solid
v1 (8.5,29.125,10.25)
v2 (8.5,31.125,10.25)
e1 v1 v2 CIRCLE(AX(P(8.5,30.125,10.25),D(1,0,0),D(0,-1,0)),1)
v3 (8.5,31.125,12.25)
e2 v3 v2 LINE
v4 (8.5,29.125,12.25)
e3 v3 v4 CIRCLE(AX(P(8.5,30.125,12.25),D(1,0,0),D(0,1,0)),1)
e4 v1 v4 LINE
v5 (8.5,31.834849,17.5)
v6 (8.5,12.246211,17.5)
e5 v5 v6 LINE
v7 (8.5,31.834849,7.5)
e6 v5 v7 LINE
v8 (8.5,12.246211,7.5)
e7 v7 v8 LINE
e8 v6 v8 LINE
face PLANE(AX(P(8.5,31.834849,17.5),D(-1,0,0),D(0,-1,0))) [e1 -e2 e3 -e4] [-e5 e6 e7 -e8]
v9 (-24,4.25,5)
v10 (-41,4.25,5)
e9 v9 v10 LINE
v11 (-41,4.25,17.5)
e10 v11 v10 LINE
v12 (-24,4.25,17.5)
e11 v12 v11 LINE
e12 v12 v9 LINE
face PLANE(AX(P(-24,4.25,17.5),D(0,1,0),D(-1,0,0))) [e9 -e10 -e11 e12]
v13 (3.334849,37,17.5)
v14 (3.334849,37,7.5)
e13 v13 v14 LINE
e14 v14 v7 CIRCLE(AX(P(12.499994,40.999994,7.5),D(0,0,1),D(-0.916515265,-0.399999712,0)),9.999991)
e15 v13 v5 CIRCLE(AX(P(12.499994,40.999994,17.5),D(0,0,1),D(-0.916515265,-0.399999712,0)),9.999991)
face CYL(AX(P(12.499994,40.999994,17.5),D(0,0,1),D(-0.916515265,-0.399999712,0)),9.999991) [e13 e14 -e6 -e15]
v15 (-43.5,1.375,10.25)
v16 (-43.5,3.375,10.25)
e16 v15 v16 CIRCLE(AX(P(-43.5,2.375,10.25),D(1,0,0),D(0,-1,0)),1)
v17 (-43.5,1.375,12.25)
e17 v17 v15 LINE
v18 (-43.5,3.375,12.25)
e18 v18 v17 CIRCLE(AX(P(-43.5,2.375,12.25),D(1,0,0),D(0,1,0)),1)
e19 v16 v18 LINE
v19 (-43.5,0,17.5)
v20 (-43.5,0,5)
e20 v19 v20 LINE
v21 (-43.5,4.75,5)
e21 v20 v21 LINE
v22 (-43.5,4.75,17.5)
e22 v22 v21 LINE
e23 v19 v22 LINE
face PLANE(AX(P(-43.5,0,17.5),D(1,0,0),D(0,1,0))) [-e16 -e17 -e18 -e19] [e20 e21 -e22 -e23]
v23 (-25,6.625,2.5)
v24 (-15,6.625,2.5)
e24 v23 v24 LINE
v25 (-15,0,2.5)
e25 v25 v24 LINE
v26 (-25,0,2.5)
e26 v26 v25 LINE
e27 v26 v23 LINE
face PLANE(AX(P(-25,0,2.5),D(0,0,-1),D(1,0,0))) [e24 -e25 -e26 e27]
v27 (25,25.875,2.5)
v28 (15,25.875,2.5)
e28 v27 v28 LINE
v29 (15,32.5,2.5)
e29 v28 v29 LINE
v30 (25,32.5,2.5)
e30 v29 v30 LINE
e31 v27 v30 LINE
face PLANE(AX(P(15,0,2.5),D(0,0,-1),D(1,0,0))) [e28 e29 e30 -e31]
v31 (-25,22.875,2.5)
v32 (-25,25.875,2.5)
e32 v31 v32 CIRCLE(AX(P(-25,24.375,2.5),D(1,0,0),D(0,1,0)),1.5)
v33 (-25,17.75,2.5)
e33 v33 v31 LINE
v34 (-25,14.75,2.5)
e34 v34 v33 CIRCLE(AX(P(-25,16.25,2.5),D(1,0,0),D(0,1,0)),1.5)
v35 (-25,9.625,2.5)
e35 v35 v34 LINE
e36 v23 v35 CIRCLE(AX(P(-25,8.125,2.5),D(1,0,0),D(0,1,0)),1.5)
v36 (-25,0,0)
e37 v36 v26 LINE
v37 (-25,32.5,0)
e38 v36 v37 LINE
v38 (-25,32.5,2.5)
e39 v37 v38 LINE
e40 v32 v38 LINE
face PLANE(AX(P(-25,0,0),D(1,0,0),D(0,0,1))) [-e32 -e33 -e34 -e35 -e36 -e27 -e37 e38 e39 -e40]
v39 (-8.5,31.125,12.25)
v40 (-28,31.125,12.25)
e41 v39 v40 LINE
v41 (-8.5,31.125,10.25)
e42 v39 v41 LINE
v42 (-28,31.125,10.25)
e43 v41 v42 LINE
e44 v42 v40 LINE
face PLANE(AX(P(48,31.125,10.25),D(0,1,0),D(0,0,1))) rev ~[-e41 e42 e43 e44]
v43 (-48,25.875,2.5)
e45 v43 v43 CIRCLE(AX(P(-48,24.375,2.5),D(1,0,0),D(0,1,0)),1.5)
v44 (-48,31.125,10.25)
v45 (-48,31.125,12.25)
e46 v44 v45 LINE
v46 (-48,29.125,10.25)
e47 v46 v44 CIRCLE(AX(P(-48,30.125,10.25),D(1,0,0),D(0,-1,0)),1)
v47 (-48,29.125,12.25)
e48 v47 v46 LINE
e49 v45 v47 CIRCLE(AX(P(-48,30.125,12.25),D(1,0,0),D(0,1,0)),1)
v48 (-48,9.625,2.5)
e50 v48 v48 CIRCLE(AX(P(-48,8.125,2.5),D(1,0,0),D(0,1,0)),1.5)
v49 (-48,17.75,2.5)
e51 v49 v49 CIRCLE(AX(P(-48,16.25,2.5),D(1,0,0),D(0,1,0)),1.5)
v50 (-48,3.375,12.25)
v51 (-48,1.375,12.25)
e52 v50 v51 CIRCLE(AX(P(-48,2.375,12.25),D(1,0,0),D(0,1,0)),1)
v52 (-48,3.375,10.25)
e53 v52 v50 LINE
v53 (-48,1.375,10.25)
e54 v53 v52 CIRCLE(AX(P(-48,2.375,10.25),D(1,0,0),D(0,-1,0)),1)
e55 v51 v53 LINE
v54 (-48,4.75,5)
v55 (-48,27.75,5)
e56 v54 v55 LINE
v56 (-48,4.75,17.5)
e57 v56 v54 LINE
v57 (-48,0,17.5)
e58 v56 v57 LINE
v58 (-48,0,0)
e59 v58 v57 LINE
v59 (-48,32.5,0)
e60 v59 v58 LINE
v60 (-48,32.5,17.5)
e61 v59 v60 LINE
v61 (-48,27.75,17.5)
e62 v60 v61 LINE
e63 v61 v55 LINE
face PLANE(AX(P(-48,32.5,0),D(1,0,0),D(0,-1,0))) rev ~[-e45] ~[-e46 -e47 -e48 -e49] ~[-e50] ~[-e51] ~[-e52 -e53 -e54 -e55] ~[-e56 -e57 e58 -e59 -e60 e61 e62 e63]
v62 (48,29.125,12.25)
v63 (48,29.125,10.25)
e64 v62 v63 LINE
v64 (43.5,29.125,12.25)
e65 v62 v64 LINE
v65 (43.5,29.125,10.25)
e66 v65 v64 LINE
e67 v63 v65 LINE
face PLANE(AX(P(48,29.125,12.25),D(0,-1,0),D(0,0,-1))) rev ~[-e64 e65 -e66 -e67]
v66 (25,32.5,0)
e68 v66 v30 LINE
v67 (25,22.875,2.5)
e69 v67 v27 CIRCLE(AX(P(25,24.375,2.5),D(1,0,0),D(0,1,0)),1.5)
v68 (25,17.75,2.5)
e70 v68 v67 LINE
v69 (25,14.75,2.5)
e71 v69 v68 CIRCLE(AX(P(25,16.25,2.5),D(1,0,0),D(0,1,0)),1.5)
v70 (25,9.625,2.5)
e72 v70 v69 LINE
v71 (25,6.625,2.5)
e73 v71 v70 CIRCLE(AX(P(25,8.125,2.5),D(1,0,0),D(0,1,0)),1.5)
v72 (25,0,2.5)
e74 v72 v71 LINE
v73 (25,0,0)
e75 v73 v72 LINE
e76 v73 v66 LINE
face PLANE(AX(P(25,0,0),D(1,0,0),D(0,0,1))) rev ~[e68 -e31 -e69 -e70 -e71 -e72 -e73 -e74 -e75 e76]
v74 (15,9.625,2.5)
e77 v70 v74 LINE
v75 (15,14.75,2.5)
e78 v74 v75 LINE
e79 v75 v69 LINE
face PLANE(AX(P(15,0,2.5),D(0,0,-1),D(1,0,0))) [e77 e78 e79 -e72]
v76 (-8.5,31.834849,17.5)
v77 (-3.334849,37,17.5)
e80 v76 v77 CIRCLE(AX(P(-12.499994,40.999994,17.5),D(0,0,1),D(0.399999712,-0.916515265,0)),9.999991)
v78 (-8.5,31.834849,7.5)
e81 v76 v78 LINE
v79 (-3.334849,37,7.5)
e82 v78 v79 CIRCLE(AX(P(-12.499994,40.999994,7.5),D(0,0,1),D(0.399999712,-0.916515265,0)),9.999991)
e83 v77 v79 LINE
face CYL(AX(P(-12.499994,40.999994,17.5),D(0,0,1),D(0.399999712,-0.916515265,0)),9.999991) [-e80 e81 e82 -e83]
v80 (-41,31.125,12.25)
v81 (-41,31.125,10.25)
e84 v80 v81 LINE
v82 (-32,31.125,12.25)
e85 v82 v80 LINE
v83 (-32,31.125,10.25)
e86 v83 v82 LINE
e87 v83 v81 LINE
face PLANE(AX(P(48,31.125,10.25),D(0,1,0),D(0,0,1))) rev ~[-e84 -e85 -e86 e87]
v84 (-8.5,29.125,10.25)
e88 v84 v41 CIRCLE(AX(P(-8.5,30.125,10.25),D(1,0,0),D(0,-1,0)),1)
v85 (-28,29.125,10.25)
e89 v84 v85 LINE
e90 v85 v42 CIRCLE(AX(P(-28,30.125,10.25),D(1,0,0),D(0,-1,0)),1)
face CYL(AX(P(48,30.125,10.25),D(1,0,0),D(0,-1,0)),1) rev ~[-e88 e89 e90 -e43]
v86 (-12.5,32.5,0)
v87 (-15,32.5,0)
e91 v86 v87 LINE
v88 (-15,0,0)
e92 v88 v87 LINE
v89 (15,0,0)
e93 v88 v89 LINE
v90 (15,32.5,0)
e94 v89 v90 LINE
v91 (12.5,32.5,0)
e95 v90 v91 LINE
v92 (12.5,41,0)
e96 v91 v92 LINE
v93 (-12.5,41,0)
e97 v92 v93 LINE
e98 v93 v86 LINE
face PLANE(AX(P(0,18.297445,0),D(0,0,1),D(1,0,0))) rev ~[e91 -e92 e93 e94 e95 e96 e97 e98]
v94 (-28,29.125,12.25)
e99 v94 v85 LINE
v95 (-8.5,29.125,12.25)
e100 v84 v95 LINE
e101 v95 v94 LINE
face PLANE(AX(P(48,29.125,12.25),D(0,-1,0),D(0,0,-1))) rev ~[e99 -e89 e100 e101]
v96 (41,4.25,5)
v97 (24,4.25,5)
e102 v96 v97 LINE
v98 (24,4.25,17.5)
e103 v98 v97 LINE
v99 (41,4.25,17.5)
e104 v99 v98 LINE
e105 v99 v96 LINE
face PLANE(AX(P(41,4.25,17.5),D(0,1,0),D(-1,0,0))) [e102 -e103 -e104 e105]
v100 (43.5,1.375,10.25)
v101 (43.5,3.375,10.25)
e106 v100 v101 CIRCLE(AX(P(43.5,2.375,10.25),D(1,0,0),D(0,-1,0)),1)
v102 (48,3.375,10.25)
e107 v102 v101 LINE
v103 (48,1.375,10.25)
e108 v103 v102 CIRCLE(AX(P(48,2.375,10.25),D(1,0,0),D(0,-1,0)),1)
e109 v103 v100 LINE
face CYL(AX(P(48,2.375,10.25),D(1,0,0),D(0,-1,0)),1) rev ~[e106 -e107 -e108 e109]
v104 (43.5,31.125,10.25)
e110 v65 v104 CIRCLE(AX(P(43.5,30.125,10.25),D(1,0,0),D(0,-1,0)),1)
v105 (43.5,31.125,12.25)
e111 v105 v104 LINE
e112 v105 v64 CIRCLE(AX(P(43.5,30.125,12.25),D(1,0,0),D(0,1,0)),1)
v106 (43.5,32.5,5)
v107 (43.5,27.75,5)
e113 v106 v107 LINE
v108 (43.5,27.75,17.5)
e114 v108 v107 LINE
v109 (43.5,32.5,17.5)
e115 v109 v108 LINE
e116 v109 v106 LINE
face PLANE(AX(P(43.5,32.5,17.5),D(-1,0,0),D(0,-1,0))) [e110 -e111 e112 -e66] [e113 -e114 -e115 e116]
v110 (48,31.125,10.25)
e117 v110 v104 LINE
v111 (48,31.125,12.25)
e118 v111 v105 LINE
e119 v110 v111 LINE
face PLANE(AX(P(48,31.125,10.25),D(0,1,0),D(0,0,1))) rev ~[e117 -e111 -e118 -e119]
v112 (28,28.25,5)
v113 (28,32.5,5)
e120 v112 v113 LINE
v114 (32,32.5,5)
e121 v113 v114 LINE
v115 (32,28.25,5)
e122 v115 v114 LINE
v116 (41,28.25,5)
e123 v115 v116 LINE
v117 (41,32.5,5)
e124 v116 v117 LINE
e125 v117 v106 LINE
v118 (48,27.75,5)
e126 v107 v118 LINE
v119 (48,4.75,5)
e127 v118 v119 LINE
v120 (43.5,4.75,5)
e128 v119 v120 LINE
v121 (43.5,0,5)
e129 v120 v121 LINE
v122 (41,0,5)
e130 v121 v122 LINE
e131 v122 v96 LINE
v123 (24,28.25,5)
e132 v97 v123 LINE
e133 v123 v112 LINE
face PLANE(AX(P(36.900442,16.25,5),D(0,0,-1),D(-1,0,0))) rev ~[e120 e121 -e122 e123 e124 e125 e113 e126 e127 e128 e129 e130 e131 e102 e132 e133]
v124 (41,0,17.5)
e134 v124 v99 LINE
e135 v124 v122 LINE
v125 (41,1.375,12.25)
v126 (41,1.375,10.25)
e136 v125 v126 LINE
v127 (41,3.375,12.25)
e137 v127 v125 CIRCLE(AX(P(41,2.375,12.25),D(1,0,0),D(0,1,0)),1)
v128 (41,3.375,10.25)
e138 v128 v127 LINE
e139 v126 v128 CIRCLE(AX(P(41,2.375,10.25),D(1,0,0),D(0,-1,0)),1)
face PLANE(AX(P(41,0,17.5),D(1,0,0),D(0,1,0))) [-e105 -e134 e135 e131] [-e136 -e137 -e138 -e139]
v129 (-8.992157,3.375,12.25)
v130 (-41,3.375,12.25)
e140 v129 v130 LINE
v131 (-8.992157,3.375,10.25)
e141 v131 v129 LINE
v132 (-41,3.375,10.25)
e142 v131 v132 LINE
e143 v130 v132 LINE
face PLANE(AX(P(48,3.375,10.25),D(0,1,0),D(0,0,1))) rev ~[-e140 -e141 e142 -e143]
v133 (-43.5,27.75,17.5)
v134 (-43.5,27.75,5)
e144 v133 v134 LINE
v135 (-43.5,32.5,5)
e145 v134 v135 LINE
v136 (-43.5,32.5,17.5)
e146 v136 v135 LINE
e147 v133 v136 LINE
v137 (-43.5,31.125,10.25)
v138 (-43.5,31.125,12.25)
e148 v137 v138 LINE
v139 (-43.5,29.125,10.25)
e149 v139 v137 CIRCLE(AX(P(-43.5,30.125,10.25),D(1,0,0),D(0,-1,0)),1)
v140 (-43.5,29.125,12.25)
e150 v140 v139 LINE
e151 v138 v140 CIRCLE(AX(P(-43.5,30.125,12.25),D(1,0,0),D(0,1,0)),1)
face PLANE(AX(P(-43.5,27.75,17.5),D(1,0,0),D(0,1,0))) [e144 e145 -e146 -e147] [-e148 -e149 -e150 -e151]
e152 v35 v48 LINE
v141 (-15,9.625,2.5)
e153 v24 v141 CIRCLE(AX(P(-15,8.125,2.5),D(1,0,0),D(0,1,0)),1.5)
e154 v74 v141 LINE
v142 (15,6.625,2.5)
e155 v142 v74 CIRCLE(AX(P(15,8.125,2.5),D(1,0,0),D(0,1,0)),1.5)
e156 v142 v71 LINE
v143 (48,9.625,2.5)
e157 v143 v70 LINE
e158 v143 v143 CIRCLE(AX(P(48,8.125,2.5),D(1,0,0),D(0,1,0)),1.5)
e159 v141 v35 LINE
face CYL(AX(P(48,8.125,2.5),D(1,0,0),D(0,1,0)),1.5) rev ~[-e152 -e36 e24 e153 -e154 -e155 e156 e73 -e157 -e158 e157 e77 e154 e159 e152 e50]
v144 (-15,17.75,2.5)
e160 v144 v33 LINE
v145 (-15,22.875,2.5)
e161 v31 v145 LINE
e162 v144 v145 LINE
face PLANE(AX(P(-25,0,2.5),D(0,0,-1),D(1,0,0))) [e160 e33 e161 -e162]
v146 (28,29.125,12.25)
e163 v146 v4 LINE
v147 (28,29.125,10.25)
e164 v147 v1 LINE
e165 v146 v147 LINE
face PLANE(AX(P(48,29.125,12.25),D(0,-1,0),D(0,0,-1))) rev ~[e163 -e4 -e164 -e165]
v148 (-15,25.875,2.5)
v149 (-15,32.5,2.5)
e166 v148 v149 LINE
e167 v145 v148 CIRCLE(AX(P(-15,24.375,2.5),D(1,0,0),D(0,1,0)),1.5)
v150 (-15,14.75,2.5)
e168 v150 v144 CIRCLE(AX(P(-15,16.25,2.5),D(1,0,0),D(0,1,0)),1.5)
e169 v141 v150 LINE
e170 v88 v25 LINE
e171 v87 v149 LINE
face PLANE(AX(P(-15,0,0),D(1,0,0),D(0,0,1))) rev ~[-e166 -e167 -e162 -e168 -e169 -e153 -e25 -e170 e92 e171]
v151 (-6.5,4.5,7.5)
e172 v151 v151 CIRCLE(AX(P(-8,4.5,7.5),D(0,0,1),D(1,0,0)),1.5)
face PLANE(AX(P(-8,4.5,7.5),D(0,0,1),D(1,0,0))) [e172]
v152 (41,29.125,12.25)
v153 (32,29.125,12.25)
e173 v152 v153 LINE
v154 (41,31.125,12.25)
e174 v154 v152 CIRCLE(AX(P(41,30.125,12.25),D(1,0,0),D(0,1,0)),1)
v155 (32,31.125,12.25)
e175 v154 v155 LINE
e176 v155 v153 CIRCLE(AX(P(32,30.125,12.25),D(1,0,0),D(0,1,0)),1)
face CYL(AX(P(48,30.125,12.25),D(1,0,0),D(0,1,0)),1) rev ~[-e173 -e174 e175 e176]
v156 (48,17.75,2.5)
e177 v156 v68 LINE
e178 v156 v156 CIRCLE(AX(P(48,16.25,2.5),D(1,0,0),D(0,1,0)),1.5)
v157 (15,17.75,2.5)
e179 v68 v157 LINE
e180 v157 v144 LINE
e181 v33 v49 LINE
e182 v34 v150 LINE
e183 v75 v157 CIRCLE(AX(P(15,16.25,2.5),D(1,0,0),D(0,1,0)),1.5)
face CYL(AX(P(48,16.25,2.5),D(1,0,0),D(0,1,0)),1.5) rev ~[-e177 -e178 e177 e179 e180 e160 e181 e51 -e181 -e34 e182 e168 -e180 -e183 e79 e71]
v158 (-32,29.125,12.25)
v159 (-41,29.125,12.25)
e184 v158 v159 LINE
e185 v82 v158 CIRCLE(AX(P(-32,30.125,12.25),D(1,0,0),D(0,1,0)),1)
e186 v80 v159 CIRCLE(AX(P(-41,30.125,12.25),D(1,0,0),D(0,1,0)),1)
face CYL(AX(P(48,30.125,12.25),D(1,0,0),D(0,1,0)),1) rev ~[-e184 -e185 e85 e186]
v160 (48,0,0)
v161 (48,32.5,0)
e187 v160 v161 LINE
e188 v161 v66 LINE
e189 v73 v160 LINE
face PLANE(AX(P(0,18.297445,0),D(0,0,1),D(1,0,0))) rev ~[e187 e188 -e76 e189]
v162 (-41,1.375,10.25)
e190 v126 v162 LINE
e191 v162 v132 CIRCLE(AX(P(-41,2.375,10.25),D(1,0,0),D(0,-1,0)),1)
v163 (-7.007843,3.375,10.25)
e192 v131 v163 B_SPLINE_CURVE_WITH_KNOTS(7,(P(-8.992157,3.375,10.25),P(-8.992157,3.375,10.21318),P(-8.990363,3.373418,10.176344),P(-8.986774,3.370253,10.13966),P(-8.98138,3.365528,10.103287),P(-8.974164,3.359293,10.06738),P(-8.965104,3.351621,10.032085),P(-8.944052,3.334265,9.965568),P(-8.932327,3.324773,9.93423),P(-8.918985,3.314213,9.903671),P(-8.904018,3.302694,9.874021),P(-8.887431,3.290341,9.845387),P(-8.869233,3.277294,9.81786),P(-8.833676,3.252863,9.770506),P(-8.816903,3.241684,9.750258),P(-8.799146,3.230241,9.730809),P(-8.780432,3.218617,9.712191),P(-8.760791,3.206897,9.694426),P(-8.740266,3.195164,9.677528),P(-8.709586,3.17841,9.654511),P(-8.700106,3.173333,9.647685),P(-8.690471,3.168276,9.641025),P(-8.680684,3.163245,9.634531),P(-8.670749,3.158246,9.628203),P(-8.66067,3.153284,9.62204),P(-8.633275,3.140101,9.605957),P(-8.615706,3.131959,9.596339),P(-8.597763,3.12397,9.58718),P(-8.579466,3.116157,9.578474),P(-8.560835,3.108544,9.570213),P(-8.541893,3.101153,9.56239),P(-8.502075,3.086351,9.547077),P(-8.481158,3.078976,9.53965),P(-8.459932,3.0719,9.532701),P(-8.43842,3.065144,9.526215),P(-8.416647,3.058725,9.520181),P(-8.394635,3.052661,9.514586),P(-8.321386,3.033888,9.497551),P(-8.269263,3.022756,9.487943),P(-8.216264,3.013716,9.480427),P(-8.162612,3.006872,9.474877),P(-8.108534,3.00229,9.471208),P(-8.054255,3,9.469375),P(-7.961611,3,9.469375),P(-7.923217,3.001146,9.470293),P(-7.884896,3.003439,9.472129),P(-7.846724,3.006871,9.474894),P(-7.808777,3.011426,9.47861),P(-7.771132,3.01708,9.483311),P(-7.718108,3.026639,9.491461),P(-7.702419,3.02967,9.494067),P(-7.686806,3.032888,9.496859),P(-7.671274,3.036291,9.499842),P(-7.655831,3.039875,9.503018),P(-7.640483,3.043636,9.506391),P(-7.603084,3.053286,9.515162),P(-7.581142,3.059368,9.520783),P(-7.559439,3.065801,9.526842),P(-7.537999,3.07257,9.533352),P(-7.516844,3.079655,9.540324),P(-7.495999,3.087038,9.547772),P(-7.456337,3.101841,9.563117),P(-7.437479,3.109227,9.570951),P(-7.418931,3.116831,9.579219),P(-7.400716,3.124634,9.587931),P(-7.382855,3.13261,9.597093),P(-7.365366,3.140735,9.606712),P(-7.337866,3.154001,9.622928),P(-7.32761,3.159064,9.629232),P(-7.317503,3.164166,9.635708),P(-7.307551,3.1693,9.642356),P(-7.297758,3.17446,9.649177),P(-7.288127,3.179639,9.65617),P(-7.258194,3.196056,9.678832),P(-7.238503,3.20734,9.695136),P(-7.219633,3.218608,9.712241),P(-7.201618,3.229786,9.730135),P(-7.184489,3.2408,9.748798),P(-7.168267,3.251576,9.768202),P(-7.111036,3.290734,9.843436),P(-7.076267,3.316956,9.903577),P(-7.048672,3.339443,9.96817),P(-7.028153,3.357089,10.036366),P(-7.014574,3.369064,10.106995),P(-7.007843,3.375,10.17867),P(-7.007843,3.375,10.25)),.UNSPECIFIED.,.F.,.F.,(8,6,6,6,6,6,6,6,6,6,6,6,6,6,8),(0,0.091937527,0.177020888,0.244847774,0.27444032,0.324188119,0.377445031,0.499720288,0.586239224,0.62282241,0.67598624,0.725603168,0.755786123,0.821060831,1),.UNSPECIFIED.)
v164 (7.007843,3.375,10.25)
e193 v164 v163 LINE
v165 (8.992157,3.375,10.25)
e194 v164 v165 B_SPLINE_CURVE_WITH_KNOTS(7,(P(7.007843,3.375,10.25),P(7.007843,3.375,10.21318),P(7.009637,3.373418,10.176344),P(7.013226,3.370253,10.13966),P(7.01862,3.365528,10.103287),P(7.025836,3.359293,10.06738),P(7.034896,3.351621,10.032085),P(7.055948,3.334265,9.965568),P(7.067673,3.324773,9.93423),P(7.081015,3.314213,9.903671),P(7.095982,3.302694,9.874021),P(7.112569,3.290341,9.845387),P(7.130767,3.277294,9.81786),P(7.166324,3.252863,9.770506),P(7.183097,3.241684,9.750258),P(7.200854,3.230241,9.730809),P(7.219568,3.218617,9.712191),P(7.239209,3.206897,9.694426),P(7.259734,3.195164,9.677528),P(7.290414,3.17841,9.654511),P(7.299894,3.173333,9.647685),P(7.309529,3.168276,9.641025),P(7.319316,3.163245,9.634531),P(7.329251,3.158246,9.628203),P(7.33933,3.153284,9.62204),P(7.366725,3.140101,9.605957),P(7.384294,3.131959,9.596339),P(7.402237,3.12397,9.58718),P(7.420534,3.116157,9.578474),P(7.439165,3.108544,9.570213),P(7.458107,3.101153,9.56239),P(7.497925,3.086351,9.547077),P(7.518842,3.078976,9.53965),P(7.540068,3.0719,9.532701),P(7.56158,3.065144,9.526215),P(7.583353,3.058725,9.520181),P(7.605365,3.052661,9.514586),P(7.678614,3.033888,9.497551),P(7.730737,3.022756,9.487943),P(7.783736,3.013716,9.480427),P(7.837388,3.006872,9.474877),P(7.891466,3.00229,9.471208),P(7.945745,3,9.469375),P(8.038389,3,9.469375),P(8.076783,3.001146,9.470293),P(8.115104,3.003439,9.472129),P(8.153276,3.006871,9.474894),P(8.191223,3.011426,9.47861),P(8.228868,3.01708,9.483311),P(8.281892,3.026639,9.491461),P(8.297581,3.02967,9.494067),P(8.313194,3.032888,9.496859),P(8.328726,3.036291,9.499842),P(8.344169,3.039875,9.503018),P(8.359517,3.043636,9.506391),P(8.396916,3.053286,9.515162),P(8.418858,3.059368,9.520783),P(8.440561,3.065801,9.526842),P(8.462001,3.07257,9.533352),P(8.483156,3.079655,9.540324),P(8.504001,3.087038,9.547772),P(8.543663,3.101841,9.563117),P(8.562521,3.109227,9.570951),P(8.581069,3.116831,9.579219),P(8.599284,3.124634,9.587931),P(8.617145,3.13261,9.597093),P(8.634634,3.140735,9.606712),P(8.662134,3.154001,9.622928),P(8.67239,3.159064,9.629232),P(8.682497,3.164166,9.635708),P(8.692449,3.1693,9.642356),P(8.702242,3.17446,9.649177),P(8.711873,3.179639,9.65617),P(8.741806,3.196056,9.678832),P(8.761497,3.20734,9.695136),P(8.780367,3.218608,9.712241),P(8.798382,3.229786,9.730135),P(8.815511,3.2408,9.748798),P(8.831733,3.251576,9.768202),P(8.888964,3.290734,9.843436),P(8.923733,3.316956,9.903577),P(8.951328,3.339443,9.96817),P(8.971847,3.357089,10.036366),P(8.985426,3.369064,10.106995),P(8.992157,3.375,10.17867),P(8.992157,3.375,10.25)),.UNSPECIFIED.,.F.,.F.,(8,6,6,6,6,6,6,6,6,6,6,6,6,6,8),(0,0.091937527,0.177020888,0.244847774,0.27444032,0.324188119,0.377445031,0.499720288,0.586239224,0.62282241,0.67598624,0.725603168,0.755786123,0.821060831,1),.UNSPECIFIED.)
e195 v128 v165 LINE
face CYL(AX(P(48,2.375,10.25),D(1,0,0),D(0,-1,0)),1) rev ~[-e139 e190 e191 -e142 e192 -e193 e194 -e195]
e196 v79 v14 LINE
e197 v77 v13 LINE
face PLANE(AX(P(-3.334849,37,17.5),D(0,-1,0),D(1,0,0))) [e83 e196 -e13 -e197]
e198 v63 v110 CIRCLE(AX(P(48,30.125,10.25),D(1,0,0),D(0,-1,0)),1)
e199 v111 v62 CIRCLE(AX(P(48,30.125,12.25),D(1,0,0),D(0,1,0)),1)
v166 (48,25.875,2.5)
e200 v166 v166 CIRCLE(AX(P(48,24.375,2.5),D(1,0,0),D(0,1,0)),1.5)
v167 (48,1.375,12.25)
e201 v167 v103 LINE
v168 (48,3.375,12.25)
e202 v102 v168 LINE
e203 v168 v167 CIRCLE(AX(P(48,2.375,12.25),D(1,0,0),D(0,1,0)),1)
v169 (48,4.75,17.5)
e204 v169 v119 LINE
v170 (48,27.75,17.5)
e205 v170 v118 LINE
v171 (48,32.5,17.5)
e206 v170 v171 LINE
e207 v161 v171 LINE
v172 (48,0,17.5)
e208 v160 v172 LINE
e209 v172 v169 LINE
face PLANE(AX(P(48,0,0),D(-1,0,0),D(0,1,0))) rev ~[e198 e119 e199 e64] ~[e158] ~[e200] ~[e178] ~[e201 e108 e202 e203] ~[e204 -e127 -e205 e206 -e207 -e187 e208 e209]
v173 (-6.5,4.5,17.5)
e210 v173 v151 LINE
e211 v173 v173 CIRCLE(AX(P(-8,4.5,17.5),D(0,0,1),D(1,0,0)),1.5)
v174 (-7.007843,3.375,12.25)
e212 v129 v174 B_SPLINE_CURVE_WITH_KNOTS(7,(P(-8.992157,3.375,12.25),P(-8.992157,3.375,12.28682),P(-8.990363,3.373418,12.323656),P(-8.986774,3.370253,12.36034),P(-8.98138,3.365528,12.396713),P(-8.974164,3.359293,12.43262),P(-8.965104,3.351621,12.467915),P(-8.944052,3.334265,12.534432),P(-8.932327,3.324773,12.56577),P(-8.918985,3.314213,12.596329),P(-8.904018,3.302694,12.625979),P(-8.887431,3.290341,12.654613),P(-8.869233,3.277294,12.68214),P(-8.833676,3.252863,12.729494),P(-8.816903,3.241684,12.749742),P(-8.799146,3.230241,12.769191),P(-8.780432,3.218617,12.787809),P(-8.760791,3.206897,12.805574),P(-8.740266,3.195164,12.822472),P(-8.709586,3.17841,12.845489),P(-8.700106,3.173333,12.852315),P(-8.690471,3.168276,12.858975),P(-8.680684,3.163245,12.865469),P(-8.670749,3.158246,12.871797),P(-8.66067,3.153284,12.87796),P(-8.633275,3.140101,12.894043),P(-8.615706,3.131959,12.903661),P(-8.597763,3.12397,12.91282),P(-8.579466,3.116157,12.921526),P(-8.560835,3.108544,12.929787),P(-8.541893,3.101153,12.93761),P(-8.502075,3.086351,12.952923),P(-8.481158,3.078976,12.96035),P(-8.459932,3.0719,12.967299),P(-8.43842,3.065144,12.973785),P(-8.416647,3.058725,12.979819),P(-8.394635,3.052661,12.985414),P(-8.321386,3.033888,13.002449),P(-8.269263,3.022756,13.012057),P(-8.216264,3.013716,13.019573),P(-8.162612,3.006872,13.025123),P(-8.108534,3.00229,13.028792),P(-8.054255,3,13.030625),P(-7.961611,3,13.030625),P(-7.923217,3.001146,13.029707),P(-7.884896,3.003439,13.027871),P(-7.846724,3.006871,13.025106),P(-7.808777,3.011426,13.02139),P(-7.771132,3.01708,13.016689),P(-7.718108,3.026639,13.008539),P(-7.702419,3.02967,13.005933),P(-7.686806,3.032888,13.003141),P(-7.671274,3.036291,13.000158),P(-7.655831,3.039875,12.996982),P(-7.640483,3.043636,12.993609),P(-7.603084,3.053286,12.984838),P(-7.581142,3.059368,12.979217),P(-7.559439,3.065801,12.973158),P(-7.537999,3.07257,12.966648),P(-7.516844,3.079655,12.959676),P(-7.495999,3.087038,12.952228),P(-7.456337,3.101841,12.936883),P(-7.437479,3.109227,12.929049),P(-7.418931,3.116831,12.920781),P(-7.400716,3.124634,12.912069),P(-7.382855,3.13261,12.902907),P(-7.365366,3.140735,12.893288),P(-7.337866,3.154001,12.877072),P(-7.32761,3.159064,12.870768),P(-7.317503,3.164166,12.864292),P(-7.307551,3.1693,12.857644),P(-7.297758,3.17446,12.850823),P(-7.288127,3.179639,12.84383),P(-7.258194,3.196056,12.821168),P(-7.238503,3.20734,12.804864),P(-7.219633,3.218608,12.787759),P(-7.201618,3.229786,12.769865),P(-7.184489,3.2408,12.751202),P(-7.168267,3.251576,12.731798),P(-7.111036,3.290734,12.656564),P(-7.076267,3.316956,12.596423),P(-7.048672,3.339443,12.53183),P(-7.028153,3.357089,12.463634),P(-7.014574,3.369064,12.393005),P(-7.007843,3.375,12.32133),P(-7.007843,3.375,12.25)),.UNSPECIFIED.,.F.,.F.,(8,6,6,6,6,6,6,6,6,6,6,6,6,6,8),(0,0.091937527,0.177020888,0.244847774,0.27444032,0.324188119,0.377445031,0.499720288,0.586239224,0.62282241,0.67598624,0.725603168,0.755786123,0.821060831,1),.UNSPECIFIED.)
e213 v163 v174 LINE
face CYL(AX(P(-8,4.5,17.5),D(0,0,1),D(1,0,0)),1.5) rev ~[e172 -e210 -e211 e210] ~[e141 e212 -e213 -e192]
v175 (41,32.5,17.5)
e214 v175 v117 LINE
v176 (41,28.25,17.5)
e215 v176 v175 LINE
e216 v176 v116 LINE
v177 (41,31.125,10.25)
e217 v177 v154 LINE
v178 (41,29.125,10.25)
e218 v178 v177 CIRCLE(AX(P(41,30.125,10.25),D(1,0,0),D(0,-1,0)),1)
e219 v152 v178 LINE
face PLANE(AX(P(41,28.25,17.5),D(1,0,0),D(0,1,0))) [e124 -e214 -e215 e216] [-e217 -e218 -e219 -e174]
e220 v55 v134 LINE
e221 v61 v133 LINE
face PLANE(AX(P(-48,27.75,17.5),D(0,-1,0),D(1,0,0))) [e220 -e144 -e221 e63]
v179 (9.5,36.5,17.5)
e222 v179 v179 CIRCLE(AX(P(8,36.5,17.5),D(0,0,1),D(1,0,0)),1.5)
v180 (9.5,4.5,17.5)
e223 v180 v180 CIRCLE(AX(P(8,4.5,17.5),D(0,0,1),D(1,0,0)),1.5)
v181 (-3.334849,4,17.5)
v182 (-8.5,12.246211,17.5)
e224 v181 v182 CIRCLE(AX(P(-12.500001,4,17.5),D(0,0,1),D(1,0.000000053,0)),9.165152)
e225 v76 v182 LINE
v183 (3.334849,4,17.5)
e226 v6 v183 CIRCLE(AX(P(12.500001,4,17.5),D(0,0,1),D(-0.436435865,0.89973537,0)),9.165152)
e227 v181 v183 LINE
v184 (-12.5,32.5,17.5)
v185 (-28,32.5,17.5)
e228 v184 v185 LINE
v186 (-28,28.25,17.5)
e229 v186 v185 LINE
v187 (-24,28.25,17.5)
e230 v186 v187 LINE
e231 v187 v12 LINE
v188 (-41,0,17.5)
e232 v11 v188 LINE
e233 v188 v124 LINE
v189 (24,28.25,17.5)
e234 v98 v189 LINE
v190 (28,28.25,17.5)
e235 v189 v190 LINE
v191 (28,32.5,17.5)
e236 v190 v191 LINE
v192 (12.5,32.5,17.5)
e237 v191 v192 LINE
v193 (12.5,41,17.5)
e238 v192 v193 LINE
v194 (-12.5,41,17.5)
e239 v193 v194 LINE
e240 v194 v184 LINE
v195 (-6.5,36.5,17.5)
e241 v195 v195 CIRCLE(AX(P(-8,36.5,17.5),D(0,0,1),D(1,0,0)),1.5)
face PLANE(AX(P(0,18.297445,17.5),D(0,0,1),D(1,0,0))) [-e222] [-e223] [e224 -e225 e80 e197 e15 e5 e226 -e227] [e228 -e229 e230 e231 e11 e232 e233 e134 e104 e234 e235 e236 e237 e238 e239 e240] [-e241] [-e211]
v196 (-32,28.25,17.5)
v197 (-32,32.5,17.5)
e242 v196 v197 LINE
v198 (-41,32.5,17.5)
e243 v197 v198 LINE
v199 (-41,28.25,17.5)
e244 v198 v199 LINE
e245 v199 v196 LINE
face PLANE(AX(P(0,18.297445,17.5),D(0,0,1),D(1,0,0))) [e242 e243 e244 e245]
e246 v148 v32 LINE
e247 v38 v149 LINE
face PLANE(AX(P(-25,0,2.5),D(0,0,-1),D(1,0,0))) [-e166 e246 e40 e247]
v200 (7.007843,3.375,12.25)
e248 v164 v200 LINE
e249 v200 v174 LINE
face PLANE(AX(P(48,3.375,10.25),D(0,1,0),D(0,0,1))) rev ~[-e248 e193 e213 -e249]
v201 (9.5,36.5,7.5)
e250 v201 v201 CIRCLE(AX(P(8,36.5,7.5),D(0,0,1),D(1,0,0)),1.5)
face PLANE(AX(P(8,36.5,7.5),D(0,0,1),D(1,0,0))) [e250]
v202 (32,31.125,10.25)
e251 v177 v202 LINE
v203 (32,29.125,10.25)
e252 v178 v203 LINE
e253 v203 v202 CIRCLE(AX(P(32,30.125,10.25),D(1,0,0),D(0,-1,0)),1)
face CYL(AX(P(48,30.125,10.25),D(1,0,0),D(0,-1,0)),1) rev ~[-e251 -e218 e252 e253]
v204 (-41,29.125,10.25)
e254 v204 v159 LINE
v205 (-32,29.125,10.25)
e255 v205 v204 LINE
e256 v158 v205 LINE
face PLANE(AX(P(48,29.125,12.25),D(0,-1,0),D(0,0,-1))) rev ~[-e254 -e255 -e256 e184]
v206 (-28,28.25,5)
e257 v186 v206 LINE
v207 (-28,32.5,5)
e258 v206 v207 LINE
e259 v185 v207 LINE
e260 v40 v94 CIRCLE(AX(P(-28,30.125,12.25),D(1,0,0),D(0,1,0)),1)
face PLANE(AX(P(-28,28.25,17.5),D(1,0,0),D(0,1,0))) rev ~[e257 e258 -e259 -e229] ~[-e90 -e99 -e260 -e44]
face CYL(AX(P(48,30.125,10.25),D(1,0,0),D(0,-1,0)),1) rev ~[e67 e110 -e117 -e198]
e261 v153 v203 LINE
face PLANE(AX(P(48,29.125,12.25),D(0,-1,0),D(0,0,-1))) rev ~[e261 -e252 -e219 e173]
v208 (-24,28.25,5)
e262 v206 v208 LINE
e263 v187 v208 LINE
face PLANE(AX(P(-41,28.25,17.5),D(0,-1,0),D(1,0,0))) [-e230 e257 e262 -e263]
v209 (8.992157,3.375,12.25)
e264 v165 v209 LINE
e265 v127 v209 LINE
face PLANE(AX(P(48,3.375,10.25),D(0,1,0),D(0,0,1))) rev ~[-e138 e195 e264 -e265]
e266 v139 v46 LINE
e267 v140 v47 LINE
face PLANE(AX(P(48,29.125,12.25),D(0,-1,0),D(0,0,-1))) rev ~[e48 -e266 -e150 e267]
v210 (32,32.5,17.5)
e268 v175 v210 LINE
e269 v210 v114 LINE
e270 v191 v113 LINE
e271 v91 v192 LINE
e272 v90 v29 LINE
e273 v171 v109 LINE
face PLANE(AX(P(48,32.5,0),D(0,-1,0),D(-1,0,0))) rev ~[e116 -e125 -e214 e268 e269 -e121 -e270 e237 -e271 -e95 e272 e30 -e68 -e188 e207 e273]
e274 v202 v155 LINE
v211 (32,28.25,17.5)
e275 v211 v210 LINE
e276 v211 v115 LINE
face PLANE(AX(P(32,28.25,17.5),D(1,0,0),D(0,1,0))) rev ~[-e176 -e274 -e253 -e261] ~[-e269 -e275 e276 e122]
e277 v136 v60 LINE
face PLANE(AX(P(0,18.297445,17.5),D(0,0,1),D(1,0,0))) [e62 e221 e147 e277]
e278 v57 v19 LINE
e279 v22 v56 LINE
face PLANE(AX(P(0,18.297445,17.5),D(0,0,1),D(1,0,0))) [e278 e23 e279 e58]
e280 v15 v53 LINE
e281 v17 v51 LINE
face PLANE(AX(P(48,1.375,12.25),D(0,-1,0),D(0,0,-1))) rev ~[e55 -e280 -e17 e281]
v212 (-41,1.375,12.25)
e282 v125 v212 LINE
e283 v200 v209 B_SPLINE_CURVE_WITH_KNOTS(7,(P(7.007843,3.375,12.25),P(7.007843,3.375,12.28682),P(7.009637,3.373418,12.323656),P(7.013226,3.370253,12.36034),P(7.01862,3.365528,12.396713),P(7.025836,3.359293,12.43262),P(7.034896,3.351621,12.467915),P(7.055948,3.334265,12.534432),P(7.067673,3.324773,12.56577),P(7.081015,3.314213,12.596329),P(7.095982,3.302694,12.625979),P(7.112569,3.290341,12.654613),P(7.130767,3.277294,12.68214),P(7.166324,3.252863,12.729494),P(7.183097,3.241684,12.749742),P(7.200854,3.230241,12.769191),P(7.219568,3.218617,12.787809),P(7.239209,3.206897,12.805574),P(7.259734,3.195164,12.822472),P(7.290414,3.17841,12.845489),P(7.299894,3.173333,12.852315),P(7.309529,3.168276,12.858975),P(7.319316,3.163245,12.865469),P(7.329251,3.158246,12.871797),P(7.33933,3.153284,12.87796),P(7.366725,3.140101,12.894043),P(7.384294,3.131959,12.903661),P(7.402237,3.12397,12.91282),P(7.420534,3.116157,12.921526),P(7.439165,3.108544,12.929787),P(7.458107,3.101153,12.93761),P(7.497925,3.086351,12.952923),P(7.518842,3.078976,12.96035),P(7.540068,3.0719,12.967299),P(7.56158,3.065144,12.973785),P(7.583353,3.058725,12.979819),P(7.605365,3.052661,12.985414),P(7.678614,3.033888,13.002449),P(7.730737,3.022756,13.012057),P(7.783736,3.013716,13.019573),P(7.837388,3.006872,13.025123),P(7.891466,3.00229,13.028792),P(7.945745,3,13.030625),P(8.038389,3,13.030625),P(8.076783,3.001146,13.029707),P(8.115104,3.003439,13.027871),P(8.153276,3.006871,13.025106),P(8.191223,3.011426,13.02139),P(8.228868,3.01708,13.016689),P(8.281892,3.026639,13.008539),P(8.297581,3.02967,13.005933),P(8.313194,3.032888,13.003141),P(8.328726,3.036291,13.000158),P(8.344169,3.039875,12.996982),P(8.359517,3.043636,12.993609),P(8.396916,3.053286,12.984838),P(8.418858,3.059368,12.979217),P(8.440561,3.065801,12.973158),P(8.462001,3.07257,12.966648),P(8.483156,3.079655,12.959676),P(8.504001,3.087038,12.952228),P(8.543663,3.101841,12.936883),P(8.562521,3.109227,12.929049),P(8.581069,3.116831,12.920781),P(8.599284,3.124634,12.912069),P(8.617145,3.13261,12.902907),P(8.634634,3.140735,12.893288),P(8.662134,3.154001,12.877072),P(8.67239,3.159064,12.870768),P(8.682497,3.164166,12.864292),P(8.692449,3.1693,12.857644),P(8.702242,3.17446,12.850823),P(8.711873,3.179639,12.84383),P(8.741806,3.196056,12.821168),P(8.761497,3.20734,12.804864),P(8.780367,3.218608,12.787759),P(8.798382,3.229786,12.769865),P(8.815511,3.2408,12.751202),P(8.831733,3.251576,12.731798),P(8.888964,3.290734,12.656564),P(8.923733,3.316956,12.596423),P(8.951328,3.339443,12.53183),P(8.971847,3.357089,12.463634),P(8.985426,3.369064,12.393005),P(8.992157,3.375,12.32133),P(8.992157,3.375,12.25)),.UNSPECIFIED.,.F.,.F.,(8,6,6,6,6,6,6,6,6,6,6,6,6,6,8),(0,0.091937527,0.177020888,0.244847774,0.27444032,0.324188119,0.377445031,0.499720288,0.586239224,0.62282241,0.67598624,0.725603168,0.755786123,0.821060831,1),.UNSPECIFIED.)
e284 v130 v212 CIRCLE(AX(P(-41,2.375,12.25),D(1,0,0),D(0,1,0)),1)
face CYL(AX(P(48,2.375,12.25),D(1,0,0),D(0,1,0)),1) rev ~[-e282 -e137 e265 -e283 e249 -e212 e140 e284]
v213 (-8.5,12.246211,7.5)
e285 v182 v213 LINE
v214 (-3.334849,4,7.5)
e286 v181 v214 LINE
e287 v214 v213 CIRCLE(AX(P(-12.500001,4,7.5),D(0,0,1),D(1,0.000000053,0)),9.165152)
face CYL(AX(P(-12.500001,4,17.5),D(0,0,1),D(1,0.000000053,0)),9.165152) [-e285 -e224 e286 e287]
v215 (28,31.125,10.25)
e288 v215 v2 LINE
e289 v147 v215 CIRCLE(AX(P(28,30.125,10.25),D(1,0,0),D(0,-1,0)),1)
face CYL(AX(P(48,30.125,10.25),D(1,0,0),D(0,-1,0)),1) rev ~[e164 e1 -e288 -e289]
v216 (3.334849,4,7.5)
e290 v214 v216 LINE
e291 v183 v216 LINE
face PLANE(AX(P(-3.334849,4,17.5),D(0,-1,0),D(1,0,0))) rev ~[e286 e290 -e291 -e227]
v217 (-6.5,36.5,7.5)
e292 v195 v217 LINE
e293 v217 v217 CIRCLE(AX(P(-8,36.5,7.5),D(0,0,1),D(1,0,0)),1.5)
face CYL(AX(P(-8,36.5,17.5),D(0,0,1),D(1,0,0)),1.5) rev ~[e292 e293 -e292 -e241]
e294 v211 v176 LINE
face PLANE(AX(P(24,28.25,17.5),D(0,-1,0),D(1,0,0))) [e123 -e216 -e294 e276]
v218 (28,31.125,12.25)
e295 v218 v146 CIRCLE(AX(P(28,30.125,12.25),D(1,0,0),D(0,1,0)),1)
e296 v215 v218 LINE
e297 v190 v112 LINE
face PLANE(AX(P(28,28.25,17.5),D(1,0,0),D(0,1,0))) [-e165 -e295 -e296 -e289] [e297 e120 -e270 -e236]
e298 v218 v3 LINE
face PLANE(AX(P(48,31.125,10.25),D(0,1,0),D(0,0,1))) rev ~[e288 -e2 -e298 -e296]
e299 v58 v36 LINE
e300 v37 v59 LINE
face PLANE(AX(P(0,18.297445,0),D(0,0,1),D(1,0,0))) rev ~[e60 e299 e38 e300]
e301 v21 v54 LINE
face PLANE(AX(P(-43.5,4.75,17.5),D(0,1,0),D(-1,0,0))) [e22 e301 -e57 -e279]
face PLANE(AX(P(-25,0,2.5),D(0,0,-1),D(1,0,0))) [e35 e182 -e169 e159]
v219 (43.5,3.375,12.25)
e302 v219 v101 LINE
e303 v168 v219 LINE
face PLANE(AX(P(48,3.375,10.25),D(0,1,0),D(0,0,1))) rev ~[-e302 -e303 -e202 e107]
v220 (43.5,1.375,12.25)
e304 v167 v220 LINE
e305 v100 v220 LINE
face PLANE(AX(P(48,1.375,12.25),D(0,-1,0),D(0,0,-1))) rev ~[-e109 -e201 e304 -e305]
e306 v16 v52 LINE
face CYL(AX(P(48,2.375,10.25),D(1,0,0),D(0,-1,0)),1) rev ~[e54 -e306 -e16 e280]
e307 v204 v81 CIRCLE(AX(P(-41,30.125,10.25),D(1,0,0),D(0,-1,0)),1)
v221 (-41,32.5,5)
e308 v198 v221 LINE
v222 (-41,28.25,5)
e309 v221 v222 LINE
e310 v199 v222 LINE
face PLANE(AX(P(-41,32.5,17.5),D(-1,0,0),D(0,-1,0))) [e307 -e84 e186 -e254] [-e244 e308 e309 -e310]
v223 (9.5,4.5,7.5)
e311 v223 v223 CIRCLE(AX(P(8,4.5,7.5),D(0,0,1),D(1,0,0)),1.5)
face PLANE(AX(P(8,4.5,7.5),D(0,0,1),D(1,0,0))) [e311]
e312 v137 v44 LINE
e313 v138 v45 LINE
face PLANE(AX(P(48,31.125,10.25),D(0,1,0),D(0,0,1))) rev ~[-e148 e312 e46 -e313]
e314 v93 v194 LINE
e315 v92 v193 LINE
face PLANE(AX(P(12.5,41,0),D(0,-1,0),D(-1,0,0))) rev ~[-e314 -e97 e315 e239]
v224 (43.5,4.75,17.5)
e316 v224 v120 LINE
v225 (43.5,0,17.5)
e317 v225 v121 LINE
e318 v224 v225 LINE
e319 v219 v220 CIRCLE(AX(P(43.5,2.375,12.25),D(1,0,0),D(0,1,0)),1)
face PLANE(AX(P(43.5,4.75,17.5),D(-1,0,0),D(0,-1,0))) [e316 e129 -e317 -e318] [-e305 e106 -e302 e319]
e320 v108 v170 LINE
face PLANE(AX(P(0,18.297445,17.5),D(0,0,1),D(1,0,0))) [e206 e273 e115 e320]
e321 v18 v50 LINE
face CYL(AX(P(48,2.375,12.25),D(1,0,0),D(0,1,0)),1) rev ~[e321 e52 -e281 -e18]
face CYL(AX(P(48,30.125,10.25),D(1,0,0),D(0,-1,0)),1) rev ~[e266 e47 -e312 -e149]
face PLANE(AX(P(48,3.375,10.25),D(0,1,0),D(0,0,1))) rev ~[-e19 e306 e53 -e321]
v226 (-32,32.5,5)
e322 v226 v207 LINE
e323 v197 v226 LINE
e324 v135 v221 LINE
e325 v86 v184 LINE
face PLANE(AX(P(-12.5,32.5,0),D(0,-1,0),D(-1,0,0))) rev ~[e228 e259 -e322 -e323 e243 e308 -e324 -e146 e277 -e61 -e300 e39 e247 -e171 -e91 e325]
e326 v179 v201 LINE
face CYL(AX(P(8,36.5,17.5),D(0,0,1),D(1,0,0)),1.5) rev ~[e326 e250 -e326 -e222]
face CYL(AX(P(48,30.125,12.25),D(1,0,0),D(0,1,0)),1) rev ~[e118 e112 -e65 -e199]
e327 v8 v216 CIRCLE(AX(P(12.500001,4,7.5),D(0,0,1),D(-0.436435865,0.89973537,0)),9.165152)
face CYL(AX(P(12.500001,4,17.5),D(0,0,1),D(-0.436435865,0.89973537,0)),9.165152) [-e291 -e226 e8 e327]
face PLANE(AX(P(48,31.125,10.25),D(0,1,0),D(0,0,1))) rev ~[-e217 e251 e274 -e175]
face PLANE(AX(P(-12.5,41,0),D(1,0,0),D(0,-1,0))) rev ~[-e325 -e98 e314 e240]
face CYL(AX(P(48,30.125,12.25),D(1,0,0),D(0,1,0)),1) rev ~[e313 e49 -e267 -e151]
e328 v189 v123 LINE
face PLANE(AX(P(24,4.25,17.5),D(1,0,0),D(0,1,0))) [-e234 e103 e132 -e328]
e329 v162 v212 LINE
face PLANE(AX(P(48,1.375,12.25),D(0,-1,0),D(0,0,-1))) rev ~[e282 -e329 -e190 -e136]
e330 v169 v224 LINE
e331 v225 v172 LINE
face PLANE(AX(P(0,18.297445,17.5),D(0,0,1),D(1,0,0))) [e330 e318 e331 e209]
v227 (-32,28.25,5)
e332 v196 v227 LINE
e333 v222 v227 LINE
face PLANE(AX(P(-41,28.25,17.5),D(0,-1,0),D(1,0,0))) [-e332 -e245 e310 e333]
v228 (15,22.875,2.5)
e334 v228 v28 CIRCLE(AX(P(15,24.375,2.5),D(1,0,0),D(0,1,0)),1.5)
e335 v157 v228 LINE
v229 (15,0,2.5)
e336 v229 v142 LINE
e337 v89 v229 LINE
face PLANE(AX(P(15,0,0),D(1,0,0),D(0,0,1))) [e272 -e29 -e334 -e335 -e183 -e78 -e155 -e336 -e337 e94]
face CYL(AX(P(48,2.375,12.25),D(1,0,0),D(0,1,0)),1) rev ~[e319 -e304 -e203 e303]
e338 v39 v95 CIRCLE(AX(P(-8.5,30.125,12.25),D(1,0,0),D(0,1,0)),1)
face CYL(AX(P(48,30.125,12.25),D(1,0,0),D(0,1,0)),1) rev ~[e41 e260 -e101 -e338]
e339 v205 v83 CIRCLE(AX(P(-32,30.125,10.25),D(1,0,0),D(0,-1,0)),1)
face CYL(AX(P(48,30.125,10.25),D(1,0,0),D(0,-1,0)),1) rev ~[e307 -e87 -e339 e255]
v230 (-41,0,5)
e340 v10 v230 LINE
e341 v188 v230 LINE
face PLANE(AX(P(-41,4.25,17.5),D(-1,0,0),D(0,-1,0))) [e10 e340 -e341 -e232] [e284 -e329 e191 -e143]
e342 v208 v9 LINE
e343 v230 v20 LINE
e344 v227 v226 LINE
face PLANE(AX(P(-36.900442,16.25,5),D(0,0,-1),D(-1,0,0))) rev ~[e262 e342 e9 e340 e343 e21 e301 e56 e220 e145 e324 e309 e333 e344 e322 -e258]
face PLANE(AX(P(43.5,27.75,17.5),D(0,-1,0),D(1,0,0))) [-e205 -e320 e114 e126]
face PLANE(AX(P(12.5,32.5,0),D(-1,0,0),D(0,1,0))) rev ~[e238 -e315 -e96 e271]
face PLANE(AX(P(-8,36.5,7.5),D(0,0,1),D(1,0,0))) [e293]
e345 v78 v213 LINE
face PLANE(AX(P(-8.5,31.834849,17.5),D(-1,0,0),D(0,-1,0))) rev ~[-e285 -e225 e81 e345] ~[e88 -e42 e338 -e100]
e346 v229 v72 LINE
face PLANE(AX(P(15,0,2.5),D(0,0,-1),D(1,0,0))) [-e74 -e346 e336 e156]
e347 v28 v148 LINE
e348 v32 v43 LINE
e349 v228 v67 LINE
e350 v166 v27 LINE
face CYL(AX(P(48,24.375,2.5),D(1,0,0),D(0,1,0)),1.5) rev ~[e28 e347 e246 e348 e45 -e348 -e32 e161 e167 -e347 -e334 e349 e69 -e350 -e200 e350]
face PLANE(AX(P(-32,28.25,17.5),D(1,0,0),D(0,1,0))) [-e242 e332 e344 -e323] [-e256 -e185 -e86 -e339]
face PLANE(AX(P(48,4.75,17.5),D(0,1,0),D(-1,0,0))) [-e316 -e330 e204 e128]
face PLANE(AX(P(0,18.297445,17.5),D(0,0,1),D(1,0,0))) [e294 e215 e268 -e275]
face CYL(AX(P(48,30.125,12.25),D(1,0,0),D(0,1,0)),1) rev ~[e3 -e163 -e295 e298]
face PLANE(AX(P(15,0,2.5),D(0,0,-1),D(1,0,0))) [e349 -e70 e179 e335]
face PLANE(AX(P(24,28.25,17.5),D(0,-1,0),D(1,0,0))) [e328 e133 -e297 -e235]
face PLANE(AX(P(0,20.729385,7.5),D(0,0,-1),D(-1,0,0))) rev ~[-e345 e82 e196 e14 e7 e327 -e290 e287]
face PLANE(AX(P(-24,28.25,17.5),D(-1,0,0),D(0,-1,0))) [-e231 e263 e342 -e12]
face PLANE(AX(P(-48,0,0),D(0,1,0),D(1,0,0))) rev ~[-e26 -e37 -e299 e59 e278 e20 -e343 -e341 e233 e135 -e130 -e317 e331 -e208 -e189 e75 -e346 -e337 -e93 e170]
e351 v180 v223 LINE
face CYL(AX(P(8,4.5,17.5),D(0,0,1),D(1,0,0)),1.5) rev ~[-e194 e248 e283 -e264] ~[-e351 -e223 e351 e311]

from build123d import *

# Parameters (mm, degrees)
PAD_DEPTH       = 17.5
POCKET_DEPTH    = 12.5
POCKET001_DEPTH = 10
SKETCH003_R     = 1.5
POCKET002_DEPTH = 10
SKETCH004_W     = 10
SKETCH004_H     = 2.5
POCKET003_DEPTH = 41.001
SKETCH010_W     = 4
SKETCH010_H     = 4.25
POCKET008_DEPTH = 12.5
SKETCH011_R     = 1.5
POCKET009_DEPTH = 96.001


with BuildPart() as part:
    # Sketch → Pad (new body)
    with BuildSketch(Plane.XY):
        Polygon((-48, 0), (48, 0), (48, 32.5), (12.5, 32.5), (12.5, 41), (-12.5, 41), (-12.5, 32.5), (-48, 32.5), align=None)
    extrude(amount=PAD_DEPTH)

    # Sketch001 (on Face10 of Pad) → Pocket (cut)
    with BuildSketch(Plane.XY.offset(17.5)):
        Polygon((-48, 27.75), (-43.5, 27.75), (-43.5, 32.5), (-41, 32.5), (-41, 28.25), (-24, 28.25), (-24, 4.25), (-41, 4.25), (-41, 0), (-43.5, 0), (-43.5, 4.75), (-48, 4.75), align=None)
        Polygon((24, 28.25), (41, 28.25), (41, 32.5), (43.5, 32.5), (43.5, 27.75), (48, 27.75), (48, 4.75), (43.5, 4.75), (43.5, 0), (41, 0), (41, 4.25), (24, 4.25), align=None)
    extrude(amount=-POCKET_DEPTH, mode=Mode.SUBTRACT)

    # Sketch002 (on Face8 of Pocket) → Pocket001 (cut)
    with BuildSketch(Plane.XY.offset(17.5)):
        with BuildLine():
            ThreePointArc((-8.5, 31.834849), (-5.428932, 33.928932), (-3.334849, 37))
            Line((-3.334849, 37), (3.334849, 37))
            ThreePointArc((3.334849, 37), (5.428932, 33.928932), (8.5, 31.834849))
            Line((8.5, 31.834849), (8.5, 12.246211))
            ThreePointArc((8.5, 12.246211), (4.732742, 8.865151), (3.334849, 4))
            Line((-3.334849, 4), (3.334849, 4))
            ThreePointArc((-3.334849, 4), (-4.732742, 8.865151), (-8.5, 12.246211))
            Line((-8.5, 31.834849), (-8.5, 12.246211))
        make_face()
    extrude(amount=-POCKET001_DEPTH, mode=Mode.SUBTRACT)

    # Sketch003 (on Face8 of Pocket001) → Pocket002 (cut)
    with BuildSketch(Plane.XY.offset(17.5)):
        with Locations((-8, 36.5)):
            Circle(SKETCH003_R)
        with Locations((8, 36.5)):
            Circle(SKETCH003_R)
        with Locations((-8, 4.5)):
            Circle(SKETCH003_R)
        with Locations((8, 4.5)):
            Circle(SKETCH003_R)
    extrude(amount=-POCKET002_DEPTH, mode=Mode.SUBTRACT)

    # Sketch004 (on Face1 of Pocket002) → Pocket003 (cut, through all)
    with BuildSketch(Plane.XZ):
        with Locations((-20, 1.25)):
            Rectangle(SKETCH004_W, SKETCH004_H)
        with Locations((20, 1.25)):
            Rectangle(SKETCH004_W, SKETCH004_H)
    extrude(amount=-POCKET003_DEPTH, mode=Mode.SUBTRACT)

    # Sketch010 → Pocket008 (cut)
    with BuildSketch(Plane.XY.offset(17.5)):
        with Locations((-30, 30.375)):
            Rectangle(SKETCH010_W, SKETCH010_H)
        with Locations((30, 30.375)):
            Rectangle(SKETCH010_W, SKETCH010_H)
    extrude(amount=-POCKET008_DEPTH, mode=Mode.SUBTRACT)

    # Sketch011 (on Face11 of Pocket008) → Pocket009 (cut, through all)
    with BuildSketch(Plane.YZ.offset(48)):
        with Locations((8.125, 2.5)):
            Circle(SKETCH011_R)
        with Locations((16.25, 2.5)):
            Circle(SKETCH011_R)
        with Locations((24.375, 2.5)):
            Circle(SKETCH011_R)
        with BuildLine():
            ThreePointArc((31.125, 12.25), (30.125, 13.25), (29.125, 12.25))
            Line((29.125, 12.25), (29.125, 10.25))
            ThreePointArc((29.125, 10.25), (30.125, 9.25), (31.125, 10.25))
            Line((31.125, 10.25), (31.125, 12.25))
        make_face()
        with BuildLine():
            ThreePointArc((3.375, 12.25), (2.375, 13.25), (1.375, 12.25))
            Line((1.375, 12.25), (1.375, 10.25))
            ThreePointArc((1.375, 10.25), (2.375, 9.25), (3.375, 10.25))
            Line((3.375, 10.25), (3.375, 12.25))
        make_face()
    extrude(amount=-POCKET009_DEPTH, mode=Mode.SUBTRACT)


solid = part.part
